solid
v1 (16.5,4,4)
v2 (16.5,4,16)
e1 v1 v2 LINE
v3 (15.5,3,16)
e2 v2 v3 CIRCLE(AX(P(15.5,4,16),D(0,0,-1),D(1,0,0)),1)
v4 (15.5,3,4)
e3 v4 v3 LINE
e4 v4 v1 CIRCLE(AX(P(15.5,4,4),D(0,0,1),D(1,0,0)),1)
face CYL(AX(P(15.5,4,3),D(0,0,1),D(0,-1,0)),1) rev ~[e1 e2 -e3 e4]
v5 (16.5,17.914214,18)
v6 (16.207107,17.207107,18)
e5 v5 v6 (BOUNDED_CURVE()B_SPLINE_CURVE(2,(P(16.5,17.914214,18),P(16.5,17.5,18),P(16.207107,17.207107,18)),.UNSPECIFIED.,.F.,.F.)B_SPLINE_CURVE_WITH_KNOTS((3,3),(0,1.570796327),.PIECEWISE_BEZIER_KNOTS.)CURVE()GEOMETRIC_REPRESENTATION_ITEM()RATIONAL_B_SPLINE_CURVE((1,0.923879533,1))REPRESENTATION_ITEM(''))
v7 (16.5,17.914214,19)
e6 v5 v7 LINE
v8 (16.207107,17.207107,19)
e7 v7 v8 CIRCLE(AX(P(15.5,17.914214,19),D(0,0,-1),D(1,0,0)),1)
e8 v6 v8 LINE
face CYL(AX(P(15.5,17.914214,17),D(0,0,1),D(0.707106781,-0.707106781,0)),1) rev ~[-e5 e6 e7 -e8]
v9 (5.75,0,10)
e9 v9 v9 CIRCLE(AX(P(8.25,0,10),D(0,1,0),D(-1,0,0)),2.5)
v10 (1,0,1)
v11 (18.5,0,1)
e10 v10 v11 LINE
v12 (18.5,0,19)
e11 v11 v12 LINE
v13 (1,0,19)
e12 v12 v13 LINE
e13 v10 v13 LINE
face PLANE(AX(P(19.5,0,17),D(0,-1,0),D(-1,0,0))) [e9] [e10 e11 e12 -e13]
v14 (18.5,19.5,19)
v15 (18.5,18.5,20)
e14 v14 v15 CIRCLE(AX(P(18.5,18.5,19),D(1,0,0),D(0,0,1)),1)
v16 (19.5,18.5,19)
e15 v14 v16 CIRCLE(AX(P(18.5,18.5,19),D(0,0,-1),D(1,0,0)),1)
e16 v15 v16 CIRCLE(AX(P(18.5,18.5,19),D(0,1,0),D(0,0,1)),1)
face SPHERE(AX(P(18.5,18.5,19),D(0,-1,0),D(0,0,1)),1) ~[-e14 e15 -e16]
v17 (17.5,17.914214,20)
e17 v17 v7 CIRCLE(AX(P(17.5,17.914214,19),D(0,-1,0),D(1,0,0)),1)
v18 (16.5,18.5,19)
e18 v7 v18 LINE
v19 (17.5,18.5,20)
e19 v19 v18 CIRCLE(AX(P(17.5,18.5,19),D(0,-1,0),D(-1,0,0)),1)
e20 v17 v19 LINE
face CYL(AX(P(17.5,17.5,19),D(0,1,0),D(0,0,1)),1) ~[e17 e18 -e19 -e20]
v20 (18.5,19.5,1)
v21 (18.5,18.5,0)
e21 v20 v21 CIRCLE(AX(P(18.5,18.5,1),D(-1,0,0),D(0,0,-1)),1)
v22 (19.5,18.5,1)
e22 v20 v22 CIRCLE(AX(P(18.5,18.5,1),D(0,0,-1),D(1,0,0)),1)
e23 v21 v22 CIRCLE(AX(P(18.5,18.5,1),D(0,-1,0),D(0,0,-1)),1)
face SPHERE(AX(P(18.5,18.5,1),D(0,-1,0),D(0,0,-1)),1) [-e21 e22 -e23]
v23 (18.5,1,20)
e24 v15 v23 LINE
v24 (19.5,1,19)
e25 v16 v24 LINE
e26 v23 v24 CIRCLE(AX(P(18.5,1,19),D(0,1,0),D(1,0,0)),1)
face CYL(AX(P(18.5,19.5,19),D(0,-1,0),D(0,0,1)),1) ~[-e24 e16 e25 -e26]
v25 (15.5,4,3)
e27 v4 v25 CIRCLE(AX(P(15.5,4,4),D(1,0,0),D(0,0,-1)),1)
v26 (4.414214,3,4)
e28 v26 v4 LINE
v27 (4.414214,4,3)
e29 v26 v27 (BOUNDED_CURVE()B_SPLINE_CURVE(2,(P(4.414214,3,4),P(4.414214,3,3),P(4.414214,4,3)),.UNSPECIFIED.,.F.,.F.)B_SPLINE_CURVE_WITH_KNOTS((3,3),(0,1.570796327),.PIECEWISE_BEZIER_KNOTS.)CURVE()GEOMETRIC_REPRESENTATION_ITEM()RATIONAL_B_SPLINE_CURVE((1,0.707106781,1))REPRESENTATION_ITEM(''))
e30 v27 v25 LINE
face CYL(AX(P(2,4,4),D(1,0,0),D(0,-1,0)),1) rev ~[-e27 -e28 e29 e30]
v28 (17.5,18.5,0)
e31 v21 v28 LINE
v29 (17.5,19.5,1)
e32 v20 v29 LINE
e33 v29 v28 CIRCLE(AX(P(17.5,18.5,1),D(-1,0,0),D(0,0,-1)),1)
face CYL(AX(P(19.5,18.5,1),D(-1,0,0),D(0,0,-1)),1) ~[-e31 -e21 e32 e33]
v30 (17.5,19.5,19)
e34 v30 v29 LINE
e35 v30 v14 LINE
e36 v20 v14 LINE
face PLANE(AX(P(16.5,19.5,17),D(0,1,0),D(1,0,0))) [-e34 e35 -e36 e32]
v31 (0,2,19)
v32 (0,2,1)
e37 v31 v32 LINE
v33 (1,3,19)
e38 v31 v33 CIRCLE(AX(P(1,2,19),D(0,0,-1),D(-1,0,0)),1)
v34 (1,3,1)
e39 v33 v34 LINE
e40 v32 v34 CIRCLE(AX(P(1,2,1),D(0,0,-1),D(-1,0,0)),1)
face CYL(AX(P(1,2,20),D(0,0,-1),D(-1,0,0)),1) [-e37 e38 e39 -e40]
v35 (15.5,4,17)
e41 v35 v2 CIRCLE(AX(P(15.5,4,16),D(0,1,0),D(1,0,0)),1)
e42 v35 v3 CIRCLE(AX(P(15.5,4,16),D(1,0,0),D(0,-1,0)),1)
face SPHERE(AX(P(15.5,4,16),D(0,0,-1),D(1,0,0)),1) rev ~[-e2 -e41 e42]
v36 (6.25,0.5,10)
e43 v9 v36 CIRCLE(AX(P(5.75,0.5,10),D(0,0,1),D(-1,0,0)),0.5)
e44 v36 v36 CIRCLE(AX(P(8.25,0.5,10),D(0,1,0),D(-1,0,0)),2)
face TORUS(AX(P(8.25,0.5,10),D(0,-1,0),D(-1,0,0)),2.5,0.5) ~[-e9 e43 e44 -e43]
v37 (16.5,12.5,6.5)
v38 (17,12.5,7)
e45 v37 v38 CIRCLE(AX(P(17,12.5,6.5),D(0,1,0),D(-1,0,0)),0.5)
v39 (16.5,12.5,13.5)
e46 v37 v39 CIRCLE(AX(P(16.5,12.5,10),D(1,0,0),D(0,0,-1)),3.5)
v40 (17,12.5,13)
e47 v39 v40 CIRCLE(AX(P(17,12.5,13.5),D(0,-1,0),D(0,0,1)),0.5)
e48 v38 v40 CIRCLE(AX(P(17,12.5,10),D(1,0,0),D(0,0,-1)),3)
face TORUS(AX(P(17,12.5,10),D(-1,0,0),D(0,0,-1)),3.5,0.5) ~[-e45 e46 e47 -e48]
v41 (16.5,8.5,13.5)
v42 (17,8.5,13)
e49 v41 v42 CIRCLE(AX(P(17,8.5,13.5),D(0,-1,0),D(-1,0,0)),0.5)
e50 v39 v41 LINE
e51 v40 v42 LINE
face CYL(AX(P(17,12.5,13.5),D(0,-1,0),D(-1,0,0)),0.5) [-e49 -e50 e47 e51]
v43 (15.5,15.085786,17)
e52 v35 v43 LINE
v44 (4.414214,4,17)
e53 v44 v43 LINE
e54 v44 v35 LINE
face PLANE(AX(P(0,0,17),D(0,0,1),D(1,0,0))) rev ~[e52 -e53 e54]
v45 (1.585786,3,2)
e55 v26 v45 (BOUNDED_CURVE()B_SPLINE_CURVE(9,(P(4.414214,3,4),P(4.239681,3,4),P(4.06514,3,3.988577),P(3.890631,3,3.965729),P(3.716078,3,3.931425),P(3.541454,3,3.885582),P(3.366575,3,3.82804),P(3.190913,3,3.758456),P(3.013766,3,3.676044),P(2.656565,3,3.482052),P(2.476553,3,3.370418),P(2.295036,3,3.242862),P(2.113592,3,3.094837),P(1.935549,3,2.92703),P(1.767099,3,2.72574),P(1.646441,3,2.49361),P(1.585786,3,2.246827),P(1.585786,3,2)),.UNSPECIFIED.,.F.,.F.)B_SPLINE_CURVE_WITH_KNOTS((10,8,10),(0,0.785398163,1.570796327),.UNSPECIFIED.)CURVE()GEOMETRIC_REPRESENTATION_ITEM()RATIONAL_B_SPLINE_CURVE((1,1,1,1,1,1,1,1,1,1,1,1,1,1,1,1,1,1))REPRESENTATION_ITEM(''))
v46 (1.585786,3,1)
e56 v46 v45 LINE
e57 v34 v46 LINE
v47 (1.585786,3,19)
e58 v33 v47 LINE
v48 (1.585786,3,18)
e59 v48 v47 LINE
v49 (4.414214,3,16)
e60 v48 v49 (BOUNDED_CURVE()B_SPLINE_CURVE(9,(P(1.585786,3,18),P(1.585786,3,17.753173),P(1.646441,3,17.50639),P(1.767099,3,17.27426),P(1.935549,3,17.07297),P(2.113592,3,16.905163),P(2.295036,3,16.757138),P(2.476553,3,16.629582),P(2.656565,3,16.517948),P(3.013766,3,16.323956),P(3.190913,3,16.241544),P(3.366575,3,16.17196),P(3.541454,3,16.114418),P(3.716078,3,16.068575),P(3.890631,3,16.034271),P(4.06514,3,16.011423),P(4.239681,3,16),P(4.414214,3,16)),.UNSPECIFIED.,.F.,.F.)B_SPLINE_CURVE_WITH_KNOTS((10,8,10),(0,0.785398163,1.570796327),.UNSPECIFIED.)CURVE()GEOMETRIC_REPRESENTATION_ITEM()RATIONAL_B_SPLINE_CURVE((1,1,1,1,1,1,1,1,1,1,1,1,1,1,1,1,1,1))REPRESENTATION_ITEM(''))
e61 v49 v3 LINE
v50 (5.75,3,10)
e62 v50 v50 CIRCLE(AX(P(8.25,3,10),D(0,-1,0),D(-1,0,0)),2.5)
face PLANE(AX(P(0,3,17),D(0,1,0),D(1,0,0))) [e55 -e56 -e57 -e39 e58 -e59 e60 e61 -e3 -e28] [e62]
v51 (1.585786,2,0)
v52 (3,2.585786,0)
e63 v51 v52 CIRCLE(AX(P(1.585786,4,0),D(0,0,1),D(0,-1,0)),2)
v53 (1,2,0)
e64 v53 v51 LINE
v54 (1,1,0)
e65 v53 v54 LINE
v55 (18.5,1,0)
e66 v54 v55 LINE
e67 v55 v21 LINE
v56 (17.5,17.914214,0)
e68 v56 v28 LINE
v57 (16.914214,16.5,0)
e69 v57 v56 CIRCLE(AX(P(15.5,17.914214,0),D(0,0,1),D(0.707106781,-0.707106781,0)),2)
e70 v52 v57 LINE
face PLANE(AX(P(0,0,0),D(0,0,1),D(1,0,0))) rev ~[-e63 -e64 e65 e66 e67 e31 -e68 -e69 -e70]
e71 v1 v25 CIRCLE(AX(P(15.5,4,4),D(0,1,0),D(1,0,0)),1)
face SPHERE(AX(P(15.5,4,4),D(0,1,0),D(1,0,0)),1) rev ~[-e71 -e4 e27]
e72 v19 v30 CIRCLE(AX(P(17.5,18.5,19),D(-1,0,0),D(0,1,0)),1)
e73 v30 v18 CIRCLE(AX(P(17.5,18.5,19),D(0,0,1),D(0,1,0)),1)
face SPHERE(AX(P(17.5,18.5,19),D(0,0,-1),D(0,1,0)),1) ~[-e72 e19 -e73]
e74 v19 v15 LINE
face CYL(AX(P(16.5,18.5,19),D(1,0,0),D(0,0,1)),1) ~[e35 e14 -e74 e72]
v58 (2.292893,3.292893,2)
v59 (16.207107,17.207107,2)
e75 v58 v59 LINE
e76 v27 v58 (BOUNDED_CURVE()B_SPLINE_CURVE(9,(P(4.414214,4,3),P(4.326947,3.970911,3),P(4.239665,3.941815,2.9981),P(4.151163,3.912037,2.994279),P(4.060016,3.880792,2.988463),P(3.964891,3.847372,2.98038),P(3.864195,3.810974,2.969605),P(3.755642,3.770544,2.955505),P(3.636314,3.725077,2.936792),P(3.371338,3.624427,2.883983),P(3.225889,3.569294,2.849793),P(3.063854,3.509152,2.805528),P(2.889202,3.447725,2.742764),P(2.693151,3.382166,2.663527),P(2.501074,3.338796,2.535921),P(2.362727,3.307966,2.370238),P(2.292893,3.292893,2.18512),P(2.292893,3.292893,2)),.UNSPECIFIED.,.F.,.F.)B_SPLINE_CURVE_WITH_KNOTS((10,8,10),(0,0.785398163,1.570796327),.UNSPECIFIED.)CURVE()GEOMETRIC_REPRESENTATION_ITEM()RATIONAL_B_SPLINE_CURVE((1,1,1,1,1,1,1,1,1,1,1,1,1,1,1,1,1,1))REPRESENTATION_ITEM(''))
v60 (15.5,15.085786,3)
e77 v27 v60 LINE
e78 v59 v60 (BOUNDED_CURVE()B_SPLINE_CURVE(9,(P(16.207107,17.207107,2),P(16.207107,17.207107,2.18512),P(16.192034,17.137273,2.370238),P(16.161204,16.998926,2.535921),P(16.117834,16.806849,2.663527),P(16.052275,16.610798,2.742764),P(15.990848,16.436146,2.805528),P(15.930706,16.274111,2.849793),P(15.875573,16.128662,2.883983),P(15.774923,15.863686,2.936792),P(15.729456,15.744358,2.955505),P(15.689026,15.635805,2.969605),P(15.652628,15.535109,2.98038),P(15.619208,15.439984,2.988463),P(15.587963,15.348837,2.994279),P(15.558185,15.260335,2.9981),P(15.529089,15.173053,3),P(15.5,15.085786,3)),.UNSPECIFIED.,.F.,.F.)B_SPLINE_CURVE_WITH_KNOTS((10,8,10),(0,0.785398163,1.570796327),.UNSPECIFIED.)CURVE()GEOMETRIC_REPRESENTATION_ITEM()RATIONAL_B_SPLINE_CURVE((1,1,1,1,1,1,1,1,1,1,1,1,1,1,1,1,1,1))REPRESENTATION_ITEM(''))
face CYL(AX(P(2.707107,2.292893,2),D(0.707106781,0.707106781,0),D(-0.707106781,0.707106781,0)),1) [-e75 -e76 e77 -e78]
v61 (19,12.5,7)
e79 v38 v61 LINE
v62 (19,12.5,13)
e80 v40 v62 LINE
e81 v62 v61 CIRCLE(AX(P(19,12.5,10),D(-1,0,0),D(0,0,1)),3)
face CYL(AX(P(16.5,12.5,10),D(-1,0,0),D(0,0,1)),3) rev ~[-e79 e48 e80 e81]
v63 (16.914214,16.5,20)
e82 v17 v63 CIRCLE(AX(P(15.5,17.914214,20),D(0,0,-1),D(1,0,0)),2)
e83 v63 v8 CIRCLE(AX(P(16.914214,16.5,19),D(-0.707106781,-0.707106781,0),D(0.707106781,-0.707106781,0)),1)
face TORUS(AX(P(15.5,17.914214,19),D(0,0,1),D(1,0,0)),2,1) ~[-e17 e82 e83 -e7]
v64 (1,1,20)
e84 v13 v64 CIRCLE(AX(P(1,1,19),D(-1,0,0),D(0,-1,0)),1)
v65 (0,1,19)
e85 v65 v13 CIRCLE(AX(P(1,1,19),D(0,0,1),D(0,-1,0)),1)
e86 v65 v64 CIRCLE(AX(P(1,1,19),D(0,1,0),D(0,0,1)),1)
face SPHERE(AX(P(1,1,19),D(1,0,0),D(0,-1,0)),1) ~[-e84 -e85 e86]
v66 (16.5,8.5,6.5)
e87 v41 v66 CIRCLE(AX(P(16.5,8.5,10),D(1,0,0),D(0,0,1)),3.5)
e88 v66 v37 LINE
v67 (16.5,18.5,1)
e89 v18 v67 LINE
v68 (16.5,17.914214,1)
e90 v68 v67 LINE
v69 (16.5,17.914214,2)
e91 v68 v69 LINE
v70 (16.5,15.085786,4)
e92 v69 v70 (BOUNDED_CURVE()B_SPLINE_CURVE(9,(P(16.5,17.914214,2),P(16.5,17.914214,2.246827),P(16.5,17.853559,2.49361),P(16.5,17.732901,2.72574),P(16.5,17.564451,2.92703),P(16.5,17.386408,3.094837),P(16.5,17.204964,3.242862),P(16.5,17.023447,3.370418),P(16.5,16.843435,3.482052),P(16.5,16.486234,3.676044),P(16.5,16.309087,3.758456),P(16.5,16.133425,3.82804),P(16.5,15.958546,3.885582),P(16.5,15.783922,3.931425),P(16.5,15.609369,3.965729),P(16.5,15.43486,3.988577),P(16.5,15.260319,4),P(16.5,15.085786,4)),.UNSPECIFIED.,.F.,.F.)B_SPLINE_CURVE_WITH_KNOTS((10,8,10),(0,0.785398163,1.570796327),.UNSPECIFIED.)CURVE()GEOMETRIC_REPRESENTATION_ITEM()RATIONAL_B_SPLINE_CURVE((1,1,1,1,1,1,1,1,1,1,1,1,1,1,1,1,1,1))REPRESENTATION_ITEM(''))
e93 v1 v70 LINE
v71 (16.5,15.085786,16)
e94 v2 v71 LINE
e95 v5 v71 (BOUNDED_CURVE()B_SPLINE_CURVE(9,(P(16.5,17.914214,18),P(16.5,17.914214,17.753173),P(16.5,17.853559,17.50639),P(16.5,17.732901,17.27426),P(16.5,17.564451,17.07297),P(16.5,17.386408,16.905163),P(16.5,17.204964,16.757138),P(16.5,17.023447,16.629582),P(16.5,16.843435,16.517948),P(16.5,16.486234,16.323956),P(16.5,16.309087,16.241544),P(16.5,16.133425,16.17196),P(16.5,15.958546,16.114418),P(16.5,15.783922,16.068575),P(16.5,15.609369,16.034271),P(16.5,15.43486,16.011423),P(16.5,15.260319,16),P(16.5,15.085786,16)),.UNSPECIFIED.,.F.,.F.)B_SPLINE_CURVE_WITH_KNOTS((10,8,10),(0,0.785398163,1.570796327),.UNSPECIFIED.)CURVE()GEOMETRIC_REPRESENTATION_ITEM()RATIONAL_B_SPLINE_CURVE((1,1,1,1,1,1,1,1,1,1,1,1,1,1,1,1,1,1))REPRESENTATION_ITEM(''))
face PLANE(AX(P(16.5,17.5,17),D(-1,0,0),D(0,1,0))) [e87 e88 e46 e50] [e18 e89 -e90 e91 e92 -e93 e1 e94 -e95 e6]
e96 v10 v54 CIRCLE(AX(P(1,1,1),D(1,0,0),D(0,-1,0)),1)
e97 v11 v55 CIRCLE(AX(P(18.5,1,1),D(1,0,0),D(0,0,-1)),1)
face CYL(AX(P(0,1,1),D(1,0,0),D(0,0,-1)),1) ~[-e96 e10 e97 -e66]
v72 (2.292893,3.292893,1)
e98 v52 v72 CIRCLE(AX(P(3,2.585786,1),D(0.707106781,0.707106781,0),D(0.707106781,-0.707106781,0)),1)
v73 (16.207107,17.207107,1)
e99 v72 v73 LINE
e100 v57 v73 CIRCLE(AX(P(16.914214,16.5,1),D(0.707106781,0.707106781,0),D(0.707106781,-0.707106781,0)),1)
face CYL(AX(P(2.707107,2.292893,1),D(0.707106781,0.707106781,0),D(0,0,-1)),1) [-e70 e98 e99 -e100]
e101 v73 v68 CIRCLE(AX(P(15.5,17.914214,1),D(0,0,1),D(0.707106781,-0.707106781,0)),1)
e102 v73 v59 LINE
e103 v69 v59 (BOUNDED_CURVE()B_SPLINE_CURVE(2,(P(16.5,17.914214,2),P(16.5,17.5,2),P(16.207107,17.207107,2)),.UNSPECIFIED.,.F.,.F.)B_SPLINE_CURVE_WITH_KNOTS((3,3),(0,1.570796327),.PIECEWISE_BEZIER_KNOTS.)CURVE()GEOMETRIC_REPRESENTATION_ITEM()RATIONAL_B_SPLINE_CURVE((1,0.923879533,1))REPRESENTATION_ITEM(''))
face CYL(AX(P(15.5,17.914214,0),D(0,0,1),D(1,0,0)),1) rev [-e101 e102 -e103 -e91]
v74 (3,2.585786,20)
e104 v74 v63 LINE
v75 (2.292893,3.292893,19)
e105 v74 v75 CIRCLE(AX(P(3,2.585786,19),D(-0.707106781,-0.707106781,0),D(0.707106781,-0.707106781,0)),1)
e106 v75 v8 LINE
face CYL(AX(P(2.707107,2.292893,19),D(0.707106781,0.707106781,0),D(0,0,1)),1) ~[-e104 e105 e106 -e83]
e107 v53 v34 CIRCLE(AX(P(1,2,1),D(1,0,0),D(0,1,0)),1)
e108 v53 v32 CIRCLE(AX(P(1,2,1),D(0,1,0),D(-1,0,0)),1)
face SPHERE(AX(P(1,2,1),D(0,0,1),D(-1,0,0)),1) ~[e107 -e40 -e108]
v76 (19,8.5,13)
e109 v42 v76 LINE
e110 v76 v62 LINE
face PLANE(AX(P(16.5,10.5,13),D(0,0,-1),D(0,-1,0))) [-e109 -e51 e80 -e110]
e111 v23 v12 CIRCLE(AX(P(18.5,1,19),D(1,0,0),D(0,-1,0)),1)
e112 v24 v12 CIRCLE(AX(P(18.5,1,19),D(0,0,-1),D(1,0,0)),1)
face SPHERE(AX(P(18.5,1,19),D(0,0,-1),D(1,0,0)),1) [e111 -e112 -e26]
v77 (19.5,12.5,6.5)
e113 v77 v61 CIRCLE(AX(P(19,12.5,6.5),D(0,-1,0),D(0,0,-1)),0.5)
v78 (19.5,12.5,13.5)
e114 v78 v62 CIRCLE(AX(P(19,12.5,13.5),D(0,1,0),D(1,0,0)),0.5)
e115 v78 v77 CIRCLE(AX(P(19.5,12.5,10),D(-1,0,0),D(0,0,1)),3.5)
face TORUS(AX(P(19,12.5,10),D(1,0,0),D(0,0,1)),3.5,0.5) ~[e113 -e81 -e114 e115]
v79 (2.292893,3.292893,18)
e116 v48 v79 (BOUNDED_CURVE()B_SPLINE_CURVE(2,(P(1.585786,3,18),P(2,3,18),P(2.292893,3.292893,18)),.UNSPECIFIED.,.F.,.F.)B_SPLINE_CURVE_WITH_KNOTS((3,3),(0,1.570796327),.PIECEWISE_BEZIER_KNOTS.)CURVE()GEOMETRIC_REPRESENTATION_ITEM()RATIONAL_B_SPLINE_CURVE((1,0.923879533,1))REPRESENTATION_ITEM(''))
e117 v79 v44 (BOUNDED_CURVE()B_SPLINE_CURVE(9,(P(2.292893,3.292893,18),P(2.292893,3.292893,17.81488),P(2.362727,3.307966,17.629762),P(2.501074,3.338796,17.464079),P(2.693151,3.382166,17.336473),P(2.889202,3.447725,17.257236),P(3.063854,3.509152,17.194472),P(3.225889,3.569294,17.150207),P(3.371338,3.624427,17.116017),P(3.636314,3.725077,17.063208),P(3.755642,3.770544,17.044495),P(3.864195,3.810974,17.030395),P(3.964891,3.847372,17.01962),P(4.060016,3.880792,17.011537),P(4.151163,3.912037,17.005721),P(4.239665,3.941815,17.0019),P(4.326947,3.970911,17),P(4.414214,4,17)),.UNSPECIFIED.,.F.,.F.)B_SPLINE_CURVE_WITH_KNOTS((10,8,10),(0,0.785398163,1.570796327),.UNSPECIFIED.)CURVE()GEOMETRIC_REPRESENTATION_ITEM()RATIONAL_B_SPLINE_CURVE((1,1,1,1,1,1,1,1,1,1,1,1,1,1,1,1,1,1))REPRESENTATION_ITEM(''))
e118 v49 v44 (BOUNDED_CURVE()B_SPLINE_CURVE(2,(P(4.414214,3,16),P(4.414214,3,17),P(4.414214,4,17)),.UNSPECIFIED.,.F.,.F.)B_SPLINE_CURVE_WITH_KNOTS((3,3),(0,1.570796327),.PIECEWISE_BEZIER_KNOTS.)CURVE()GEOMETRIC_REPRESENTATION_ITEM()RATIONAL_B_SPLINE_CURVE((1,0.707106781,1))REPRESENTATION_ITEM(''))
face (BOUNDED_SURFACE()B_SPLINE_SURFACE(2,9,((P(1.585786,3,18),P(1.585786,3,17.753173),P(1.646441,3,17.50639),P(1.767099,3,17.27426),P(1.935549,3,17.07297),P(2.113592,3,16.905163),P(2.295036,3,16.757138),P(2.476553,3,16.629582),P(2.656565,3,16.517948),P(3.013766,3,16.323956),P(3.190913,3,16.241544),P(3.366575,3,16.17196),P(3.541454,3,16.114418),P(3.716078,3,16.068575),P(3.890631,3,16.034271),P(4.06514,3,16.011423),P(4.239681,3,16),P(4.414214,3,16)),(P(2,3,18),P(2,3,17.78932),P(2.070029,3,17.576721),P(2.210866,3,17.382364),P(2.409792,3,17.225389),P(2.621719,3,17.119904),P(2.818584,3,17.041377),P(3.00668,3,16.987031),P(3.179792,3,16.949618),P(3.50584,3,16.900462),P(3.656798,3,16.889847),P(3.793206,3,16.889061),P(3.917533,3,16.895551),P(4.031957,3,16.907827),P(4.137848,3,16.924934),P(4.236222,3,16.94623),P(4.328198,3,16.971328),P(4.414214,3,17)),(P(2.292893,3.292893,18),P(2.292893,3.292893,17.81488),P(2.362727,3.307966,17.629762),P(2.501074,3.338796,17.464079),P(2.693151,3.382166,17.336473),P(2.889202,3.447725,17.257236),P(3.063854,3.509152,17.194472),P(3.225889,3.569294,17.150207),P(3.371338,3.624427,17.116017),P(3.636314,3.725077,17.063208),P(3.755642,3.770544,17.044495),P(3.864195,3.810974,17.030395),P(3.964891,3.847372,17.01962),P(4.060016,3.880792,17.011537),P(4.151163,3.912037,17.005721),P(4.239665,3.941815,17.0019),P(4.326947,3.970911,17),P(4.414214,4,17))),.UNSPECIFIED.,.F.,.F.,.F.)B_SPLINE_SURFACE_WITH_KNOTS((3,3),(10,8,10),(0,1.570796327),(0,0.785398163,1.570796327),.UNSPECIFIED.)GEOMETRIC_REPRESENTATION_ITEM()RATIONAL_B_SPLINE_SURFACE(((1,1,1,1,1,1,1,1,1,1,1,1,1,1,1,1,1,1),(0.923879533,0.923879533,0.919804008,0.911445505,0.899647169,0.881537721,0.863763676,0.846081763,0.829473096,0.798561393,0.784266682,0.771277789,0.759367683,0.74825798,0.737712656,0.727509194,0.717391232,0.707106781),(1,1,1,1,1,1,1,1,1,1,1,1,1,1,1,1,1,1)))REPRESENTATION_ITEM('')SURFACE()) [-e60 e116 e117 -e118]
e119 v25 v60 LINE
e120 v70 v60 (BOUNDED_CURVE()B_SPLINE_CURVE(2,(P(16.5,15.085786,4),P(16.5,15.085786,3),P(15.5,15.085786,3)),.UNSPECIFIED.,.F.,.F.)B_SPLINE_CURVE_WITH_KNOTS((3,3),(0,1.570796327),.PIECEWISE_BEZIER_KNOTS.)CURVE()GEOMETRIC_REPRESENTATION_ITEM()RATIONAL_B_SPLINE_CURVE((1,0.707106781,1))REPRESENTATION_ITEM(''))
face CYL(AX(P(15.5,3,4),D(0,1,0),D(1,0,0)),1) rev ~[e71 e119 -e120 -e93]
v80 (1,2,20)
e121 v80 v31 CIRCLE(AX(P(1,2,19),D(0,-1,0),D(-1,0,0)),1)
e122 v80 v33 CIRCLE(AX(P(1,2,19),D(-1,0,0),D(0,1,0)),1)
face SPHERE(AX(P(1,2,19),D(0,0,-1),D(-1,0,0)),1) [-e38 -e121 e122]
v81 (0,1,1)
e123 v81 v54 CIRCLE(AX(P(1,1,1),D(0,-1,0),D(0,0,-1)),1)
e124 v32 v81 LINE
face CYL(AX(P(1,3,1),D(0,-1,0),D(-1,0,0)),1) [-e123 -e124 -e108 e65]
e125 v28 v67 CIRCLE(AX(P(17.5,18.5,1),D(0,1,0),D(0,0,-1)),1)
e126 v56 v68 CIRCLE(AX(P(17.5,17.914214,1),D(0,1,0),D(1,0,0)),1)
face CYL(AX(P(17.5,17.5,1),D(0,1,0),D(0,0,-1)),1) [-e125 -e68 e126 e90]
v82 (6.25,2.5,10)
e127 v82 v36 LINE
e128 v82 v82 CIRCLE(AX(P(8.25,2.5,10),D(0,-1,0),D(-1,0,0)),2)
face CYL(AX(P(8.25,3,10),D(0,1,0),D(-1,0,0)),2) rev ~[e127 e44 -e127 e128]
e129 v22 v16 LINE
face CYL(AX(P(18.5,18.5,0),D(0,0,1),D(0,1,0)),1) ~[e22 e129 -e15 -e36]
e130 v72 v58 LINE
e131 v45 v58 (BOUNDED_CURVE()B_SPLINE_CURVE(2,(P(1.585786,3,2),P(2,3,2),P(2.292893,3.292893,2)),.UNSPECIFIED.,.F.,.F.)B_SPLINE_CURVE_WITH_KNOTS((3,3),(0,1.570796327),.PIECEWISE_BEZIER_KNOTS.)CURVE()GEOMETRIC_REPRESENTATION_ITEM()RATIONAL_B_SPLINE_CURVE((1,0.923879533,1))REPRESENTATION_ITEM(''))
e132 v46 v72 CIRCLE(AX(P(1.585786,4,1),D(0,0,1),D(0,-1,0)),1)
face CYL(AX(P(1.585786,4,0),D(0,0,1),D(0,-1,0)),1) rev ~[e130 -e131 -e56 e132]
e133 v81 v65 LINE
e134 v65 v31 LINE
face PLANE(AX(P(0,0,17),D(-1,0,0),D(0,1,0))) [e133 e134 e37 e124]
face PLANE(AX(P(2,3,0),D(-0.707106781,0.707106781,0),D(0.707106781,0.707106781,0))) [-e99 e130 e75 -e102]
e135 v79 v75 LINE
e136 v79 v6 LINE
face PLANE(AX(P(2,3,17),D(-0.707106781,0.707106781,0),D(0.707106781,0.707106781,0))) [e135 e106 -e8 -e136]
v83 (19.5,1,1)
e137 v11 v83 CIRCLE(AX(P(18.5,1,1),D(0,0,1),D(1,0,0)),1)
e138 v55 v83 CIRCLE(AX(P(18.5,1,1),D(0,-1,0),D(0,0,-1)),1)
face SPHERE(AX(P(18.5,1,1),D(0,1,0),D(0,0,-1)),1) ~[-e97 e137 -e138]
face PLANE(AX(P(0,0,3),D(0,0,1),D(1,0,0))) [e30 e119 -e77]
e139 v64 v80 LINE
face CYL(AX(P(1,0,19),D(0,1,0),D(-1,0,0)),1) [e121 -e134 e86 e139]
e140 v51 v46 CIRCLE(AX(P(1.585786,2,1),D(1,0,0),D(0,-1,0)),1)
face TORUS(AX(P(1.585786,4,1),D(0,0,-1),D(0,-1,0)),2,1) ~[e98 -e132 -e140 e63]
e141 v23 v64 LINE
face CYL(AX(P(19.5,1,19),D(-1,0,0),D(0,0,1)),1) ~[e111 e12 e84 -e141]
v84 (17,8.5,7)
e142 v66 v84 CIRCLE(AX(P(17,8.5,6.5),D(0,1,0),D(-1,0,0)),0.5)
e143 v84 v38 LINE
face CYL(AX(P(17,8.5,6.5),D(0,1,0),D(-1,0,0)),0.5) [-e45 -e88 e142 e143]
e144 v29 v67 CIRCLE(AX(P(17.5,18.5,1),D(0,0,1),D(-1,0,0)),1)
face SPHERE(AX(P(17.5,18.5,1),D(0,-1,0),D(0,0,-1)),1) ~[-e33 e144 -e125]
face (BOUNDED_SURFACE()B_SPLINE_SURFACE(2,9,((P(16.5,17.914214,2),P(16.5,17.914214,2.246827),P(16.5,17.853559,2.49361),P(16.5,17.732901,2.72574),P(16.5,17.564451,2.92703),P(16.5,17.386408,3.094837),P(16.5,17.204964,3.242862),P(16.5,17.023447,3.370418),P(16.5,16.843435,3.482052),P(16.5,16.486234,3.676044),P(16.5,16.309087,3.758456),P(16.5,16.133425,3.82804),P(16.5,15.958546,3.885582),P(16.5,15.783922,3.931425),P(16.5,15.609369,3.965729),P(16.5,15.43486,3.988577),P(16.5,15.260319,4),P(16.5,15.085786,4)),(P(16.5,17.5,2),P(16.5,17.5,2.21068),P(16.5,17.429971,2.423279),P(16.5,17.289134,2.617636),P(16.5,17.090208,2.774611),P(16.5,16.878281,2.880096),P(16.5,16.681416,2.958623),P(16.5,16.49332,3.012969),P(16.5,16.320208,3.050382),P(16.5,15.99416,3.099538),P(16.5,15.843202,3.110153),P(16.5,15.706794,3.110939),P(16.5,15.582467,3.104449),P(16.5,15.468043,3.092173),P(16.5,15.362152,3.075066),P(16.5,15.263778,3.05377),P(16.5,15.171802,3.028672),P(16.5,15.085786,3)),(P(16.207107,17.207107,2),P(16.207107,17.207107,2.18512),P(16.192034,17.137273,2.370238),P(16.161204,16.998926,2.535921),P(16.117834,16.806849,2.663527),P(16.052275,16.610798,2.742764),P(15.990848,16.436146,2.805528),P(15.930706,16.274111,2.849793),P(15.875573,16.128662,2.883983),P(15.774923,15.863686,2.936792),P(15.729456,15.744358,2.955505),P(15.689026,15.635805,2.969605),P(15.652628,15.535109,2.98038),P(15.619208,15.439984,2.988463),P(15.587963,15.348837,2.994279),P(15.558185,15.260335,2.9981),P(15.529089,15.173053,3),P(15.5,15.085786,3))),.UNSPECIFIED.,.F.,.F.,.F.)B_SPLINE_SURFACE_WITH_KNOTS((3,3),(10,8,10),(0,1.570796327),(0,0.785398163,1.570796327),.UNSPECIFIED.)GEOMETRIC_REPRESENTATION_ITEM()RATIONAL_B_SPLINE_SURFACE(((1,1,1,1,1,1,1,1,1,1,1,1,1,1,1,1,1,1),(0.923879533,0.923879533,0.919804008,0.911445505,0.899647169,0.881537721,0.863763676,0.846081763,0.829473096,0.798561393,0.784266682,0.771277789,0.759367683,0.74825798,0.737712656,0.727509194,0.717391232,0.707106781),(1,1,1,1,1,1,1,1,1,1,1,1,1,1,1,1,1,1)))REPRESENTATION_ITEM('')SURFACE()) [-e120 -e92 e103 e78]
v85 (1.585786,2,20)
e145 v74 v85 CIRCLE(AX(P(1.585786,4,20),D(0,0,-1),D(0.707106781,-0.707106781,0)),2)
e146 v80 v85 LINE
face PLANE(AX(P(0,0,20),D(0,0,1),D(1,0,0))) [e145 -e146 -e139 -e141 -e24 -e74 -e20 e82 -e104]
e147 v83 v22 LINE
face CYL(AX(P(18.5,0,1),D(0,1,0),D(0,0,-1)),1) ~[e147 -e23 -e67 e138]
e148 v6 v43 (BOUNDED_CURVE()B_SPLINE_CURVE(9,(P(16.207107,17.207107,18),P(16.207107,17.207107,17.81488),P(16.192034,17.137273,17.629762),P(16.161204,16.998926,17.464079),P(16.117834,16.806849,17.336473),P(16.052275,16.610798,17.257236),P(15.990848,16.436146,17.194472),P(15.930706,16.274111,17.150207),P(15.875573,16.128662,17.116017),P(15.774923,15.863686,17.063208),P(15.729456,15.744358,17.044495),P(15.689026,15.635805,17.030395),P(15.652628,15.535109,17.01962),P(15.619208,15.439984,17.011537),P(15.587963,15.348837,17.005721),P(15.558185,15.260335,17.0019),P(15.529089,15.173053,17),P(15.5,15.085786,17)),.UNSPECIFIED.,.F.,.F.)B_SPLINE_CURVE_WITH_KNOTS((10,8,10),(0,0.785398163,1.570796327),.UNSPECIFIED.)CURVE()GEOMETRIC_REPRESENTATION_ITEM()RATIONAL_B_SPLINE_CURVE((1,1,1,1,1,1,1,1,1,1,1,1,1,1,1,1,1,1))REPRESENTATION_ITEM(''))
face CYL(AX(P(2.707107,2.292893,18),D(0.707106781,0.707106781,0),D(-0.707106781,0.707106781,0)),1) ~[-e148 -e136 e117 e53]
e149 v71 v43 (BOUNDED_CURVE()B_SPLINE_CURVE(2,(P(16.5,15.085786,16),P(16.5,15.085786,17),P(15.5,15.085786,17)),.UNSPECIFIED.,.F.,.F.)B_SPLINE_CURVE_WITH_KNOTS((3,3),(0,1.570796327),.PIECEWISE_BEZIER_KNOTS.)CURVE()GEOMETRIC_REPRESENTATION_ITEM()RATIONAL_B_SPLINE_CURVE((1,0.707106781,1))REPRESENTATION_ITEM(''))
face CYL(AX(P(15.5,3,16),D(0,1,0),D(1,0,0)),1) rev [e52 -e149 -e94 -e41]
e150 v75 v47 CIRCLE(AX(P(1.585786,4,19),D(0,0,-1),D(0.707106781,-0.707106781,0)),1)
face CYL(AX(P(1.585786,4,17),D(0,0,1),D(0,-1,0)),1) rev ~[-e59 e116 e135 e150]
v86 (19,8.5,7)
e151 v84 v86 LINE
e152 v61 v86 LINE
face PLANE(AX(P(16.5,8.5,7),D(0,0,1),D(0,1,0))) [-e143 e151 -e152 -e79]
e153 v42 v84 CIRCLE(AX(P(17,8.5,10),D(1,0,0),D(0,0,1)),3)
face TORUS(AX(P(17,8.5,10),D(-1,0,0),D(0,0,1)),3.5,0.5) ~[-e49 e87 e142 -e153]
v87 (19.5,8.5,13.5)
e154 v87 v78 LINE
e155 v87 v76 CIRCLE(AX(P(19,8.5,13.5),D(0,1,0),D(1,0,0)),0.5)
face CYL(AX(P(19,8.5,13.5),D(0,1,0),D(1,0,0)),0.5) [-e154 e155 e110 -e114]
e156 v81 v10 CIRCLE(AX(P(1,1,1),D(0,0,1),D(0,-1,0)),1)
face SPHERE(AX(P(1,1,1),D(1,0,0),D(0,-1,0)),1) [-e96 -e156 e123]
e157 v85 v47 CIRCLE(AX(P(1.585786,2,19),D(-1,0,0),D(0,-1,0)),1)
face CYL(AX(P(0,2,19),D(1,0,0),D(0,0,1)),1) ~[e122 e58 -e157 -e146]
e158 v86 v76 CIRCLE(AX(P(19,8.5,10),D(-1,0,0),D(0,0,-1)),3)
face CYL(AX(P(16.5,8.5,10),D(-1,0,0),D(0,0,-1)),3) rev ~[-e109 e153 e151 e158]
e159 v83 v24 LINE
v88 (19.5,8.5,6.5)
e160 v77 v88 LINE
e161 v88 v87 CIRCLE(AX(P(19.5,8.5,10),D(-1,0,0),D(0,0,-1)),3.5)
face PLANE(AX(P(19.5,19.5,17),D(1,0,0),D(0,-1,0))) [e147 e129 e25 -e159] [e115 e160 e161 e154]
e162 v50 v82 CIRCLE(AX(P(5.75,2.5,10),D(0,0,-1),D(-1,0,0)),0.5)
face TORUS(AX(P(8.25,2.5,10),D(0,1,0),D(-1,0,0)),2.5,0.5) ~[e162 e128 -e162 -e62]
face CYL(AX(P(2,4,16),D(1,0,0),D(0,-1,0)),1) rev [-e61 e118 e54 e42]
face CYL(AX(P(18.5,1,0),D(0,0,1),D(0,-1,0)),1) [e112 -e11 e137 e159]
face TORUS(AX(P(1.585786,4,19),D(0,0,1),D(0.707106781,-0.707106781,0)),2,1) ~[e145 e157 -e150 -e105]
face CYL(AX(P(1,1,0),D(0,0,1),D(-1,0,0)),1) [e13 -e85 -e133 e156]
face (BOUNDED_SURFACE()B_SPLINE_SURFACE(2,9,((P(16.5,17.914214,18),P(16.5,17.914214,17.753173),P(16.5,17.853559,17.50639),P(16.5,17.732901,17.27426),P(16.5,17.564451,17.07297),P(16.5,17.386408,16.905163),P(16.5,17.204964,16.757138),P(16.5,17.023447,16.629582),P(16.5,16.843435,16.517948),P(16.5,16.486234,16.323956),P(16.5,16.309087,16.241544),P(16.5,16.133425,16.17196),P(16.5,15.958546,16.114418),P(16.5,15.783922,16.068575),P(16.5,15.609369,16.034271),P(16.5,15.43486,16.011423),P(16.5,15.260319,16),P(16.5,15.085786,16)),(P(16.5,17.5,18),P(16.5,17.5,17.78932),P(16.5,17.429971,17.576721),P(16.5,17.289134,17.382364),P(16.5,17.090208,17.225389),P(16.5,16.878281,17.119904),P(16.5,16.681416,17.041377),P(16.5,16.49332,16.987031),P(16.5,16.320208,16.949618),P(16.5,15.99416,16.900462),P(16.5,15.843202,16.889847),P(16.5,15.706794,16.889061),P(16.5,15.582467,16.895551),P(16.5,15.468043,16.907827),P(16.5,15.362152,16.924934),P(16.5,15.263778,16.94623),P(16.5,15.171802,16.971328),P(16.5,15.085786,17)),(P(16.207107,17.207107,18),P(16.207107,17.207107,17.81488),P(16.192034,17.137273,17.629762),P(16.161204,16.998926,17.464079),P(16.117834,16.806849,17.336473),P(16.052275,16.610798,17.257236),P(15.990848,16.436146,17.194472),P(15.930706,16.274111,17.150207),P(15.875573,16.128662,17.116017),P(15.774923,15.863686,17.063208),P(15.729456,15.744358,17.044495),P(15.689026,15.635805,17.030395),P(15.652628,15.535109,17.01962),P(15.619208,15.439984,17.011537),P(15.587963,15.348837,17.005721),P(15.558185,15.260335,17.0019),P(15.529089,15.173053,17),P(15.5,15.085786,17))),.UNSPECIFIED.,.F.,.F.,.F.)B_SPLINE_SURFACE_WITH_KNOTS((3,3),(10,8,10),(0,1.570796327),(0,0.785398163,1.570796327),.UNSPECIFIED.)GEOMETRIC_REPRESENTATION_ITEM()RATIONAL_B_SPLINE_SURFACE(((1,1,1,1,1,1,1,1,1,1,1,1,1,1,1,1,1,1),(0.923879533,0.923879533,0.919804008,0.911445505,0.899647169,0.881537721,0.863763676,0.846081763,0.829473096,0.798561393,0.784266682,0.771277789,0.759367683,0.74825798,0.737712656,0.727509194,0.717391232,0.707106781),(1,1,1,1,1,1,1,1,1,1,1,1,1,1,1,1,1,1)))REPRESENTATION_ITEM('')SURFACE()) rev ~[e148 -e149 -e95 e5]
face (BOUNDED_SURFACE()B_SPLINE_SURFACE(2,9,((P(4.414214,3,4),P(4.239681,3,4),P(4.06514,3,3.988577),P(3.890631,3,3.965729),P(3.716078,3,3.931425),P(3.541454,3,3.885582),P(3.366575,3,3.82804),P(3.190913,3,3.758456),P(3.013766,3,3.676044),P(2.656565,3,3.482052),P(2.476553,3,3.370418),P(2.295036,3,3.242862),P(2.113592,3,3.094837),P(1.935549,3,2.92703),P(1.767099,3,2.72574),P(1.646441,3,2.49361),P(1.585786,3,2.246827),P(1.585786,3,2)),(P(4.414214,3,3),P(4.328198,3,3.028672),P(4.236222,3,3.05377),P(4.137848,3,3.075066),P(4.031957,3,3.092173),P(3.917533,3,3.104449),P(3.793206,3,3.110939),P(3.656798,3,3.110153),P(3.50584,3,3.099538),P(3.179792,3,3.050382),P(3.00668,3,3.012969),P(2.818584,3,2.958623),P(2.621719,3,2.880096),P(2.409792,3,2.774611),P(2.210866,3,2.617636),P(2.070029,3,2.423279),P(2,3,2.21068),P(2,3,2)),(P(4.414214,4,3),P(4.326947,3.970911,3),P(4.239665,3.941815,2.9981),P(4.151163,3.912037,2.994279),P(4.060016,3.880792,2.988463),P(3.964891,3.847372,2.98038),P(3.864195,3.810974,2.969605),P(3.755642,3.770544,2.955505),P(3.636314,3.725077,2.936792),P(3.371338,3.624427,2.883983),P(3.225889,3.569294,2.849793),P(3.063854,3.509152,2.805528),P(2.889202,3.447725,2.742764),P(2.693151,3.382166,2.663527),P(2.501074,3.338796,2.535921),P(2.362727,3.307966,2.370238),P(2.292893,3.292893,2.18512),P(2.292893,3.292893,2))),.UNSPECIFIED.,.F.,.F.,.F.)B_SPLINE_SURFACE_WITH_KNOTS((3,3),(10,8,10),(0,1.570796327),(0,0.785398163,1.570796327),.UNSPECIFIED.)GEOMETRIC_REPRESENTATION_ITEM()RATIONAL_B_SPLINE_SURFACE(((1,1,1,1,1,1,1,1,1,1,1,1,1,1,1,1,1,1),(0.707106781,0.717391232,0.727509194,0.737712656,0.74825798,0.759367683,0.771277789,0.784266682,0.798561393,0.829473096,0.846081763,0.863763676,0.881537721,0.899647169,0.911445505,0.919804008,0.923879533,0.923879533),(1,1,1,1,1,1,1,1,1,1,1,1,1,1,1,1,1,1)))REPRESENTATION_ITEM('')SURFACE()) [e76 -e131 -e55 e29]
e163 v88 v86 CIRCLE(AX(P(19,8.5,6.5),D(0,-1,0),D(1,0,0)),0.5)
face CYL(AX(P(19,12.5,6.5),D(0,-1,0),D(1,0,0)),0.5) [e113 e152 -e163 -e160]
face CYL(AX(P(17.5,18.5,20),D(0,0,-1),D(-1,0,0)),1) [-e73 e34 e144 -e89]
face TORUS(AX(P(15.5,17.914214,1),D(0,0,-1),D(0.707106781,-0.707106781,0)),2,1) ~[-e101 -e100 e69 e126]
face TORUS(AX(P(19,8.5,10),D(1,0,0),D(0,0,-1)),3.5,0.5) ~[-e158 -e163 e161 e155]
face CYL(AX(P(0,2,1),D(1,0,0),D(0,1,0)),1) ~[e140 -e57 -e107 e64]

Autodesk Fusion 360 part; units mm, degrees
ref_plane "WorkPlane1" through (0, 0, 0) normal (0, 0, 1) x (1, 0, 0)
sketch "Sketch1" plane through (0, 0, 0) normal (0, 0, 1) x (1, 0, 0)
  line L0 (0, 0) -> (19.5, 0)
  line L1 (19.5, 0) -> (19.5, 19.5)
  line L2 (19.5, 19.5) -> (0, 19.5)
  line L3 (0, 19.5) -> (0, 0)
  line L4 (0, 3) -> (2, 3)
  line L5 (2, 3) -> (16.5, 17.5)
  line L6 (16.5, 17.5) -> (16.5, 19.5)
  dimension "d2" = 19.5
  dimension "d3" = 19.5
  dimension "d4" = 45
  dimension "d5" = 3
  dimension "d7" = 3
  dimension "d8" = 2
extrude "Extrude1" add sketch "Sketch1" along normal blind 3 contours L0 L1 L2 L3 L4 L5 L6
sketch "Sketch2" plane through (0, 0, 3) normal (0, 0, 1) x (-1, 0, 0)
  line L0 (0, -3) -> (0, 0)
  line L1 (0, 0) -> (-19.5, 0)
  line L2 (-19.5, 0) -> (-19.5, -19.5)
  line L3 (-19.5, -19.5) -> (-16.5, -19.5)
  line L4 (-16.5, -19.5) -> (-16.5, -17.5)
  line L5 (-16.5, -17.5) -> (-2, -3)
  line L6 (-2, -3) -> (0, -3)
  line L7 (-2, -3) -> (-16.5, -3)
  line L8 (-16.5, -3) -> (-16.5, -17.5)
  line L9 (-16.5, -17.5) -> (-2, -17.5)
  line L10 (-2, -17.5) -> (-2, -3)
extrude "Extrude2" add sketch "Sketch2" along normal blind 14 contours L0 L1 L2 L3 L4 L6 L7 L8
ref_plane "WorkPlane2" through (9.75, 9.75, 17) normal (0, 0, 1) x (1, 0, 0)
sketch "Sketch3" plane through (0, 0, 17) normal (0, 0, 1) x (1, 0, 0)
  line L0 (0, 0) -> (0, 3)
  line L1 (0, 3) -> (2, 3)
  line L2 (2, 3) -> (16.5, 17.5)
  line L3 (16.5, 17.5) -> (16.5, 19.5)
  line L4 (16.5, 19.5) -> (19.5, 19.5)
  line L5 (19.5, 19.5) -> (19.5, 0)
  line L6 (19.5, 0) -> (0, 0)
extrude "Extrude3" add sketch "Sketch3" along normal blind 3
sketch "Sketch4" plane through (16.5, 0, 0) normal (-1, 0, 0) x (0, -1, 0)
  line L0 (-19.5, 0) -> (-17.5, 0)
  line L1 (-17.5, 0) -> (-17.5, 3)
  line L2 (-17.5, 3) -> (-3, 3)
  line L3 (-3, 3) -> (-3, 17)
  line L4 (-3, 17) -> (-17.5, 17)
  line L5 (-17.5, 17) -> (-17.5, 20)
  line L6 (-17.5, 20) -> (-19.5, 20)
  line L7 (-19.5, 20) -> (-19.5, 0)
  line L8 (-15.5, 13) -> (-5.5, 13)
  line L9 (-5.5, 13) -> (-5.5, 7)
  line L10 (-5.5, 7) -> (-15.5, 7)
  line L11 (-15.5, 7) -> (-15.5, 13)
  arc A0 (-8.5, 7) -> (-8.5, 13) centre (-8.5, 10) ccw
  arc A1 (-12.5, 13) -> (-12.5, 7) centre (-12.5, 10) ccw
  line L12 (-10.5, 13) -> (-10.5, 10)
  dimension "d16" = 6
  dimension "d17" = 6
  dimension "d18" = 10
  dimension "d19" = 6
  dimension "d20" = 4
  dimension "d21" = 7
  dimension "d36" = 3
sketch "Sketch5" plane through (0, 3, 0) normal (0, 1, 0) x (-1, 0, 0)
  line L0 (-2, 0) -> (0, 0)
  line L1 (0, 0) -> (0, 20)
  line L2 (0, 20) -> (-2, 20)
  line L3 (-2, 20) -> (-2, 17)
  line L4 (-2, 17) -> (-16.5, 17)
  line L5 (-16.5, 17) -> (-16.5, 3)
  line L6 (-16.5, 3) -> (-2, 3)
  line L7 (-2, 3) -> (-2, 0)
  line L8 (-2, 0) -> (-16.5, 0)
  line L9 (0, 20) -> (-19.5, 20)
  line L10 (0, 0) -> (0, 20)
  line L11 (-16.5, 17) -> (-2, 17)
  line L12 (-2, 17) -> (0, 17)
  line L13 (0, 10) -> (-8.25, 10)
  line L14 (-8.25, 10) -> (-8.25, 17)
  circle A0 centre (-8.25, 10) radius 2
  dimension "d41" = 8.25
  dimension "d42" = 4
extrude "Extrude4" cut sketch "Sketch4" against normal blind 3 contours L8 L10 A0 A1
extrude "Extrude5" cut sketch "Sketch5" against normal blind 3 contours L13 L14 A0 | L13 L14 A0
fillet "Fillet1" radius 1 30 edges at (19.5, 9.75, 0) (9.75, 0, 0) (19.5, 0, 10) (19.5, 9.75, 20) (9.75, 0, 20) (0, 0, 10) (0, 3, 10) (0, 1.5, 20) (0, 1.5, 0) (1, 3, 0) (9.25, 10.25, 0) (16.5, 18.5, 0) (18, 19.5, 0) (16.5, 19.5, 10) (18, 19.5, 20) (16.5, 18.5, 20) (9.25, 10.25, 20) (1, 3, 20) (2, 3, 18.5) (16.5, 17.5, 18.5) (16.5, 17.5, 1.5) (2, 3, 1.5) (16.5, 10.25, 3) (16.5, 3, 10) (16.5, 10.25, 17) (9.25, 3, 17) (9.25, 10.25, 17) (9.25, 10.25, 3) (9.25, 3, 3) (19.5, 19.5, 10)
fillet "Fillet2" radius 0.5 10 edges at (16.5, 10.5, 7) (16.5, 15.5, 10) (16.5, 10.5, 13) (16.5, 5.5, 10) (19.5, 10.5, 13) (19.5, 15.5, 10) (19.5, 10.5, 7) (19.5, 5.5, 10) (10.1147, 0, 9.2768) (10.1147, 3, 10.7232)
ref_plane "WorkPlane3" through (9.75, 9.75, 10) normal (0, 0, 1) x (1, 0, 0)
ref_plane "WorkPlane4" through (9.75, 14, 10) normal (0, -1, 0) x (1, 0, 0)
ref_plane "WorkPlane5" through (5.5, 9.75, 10) normal (1, 0, 0) x (0, 1, 0)
